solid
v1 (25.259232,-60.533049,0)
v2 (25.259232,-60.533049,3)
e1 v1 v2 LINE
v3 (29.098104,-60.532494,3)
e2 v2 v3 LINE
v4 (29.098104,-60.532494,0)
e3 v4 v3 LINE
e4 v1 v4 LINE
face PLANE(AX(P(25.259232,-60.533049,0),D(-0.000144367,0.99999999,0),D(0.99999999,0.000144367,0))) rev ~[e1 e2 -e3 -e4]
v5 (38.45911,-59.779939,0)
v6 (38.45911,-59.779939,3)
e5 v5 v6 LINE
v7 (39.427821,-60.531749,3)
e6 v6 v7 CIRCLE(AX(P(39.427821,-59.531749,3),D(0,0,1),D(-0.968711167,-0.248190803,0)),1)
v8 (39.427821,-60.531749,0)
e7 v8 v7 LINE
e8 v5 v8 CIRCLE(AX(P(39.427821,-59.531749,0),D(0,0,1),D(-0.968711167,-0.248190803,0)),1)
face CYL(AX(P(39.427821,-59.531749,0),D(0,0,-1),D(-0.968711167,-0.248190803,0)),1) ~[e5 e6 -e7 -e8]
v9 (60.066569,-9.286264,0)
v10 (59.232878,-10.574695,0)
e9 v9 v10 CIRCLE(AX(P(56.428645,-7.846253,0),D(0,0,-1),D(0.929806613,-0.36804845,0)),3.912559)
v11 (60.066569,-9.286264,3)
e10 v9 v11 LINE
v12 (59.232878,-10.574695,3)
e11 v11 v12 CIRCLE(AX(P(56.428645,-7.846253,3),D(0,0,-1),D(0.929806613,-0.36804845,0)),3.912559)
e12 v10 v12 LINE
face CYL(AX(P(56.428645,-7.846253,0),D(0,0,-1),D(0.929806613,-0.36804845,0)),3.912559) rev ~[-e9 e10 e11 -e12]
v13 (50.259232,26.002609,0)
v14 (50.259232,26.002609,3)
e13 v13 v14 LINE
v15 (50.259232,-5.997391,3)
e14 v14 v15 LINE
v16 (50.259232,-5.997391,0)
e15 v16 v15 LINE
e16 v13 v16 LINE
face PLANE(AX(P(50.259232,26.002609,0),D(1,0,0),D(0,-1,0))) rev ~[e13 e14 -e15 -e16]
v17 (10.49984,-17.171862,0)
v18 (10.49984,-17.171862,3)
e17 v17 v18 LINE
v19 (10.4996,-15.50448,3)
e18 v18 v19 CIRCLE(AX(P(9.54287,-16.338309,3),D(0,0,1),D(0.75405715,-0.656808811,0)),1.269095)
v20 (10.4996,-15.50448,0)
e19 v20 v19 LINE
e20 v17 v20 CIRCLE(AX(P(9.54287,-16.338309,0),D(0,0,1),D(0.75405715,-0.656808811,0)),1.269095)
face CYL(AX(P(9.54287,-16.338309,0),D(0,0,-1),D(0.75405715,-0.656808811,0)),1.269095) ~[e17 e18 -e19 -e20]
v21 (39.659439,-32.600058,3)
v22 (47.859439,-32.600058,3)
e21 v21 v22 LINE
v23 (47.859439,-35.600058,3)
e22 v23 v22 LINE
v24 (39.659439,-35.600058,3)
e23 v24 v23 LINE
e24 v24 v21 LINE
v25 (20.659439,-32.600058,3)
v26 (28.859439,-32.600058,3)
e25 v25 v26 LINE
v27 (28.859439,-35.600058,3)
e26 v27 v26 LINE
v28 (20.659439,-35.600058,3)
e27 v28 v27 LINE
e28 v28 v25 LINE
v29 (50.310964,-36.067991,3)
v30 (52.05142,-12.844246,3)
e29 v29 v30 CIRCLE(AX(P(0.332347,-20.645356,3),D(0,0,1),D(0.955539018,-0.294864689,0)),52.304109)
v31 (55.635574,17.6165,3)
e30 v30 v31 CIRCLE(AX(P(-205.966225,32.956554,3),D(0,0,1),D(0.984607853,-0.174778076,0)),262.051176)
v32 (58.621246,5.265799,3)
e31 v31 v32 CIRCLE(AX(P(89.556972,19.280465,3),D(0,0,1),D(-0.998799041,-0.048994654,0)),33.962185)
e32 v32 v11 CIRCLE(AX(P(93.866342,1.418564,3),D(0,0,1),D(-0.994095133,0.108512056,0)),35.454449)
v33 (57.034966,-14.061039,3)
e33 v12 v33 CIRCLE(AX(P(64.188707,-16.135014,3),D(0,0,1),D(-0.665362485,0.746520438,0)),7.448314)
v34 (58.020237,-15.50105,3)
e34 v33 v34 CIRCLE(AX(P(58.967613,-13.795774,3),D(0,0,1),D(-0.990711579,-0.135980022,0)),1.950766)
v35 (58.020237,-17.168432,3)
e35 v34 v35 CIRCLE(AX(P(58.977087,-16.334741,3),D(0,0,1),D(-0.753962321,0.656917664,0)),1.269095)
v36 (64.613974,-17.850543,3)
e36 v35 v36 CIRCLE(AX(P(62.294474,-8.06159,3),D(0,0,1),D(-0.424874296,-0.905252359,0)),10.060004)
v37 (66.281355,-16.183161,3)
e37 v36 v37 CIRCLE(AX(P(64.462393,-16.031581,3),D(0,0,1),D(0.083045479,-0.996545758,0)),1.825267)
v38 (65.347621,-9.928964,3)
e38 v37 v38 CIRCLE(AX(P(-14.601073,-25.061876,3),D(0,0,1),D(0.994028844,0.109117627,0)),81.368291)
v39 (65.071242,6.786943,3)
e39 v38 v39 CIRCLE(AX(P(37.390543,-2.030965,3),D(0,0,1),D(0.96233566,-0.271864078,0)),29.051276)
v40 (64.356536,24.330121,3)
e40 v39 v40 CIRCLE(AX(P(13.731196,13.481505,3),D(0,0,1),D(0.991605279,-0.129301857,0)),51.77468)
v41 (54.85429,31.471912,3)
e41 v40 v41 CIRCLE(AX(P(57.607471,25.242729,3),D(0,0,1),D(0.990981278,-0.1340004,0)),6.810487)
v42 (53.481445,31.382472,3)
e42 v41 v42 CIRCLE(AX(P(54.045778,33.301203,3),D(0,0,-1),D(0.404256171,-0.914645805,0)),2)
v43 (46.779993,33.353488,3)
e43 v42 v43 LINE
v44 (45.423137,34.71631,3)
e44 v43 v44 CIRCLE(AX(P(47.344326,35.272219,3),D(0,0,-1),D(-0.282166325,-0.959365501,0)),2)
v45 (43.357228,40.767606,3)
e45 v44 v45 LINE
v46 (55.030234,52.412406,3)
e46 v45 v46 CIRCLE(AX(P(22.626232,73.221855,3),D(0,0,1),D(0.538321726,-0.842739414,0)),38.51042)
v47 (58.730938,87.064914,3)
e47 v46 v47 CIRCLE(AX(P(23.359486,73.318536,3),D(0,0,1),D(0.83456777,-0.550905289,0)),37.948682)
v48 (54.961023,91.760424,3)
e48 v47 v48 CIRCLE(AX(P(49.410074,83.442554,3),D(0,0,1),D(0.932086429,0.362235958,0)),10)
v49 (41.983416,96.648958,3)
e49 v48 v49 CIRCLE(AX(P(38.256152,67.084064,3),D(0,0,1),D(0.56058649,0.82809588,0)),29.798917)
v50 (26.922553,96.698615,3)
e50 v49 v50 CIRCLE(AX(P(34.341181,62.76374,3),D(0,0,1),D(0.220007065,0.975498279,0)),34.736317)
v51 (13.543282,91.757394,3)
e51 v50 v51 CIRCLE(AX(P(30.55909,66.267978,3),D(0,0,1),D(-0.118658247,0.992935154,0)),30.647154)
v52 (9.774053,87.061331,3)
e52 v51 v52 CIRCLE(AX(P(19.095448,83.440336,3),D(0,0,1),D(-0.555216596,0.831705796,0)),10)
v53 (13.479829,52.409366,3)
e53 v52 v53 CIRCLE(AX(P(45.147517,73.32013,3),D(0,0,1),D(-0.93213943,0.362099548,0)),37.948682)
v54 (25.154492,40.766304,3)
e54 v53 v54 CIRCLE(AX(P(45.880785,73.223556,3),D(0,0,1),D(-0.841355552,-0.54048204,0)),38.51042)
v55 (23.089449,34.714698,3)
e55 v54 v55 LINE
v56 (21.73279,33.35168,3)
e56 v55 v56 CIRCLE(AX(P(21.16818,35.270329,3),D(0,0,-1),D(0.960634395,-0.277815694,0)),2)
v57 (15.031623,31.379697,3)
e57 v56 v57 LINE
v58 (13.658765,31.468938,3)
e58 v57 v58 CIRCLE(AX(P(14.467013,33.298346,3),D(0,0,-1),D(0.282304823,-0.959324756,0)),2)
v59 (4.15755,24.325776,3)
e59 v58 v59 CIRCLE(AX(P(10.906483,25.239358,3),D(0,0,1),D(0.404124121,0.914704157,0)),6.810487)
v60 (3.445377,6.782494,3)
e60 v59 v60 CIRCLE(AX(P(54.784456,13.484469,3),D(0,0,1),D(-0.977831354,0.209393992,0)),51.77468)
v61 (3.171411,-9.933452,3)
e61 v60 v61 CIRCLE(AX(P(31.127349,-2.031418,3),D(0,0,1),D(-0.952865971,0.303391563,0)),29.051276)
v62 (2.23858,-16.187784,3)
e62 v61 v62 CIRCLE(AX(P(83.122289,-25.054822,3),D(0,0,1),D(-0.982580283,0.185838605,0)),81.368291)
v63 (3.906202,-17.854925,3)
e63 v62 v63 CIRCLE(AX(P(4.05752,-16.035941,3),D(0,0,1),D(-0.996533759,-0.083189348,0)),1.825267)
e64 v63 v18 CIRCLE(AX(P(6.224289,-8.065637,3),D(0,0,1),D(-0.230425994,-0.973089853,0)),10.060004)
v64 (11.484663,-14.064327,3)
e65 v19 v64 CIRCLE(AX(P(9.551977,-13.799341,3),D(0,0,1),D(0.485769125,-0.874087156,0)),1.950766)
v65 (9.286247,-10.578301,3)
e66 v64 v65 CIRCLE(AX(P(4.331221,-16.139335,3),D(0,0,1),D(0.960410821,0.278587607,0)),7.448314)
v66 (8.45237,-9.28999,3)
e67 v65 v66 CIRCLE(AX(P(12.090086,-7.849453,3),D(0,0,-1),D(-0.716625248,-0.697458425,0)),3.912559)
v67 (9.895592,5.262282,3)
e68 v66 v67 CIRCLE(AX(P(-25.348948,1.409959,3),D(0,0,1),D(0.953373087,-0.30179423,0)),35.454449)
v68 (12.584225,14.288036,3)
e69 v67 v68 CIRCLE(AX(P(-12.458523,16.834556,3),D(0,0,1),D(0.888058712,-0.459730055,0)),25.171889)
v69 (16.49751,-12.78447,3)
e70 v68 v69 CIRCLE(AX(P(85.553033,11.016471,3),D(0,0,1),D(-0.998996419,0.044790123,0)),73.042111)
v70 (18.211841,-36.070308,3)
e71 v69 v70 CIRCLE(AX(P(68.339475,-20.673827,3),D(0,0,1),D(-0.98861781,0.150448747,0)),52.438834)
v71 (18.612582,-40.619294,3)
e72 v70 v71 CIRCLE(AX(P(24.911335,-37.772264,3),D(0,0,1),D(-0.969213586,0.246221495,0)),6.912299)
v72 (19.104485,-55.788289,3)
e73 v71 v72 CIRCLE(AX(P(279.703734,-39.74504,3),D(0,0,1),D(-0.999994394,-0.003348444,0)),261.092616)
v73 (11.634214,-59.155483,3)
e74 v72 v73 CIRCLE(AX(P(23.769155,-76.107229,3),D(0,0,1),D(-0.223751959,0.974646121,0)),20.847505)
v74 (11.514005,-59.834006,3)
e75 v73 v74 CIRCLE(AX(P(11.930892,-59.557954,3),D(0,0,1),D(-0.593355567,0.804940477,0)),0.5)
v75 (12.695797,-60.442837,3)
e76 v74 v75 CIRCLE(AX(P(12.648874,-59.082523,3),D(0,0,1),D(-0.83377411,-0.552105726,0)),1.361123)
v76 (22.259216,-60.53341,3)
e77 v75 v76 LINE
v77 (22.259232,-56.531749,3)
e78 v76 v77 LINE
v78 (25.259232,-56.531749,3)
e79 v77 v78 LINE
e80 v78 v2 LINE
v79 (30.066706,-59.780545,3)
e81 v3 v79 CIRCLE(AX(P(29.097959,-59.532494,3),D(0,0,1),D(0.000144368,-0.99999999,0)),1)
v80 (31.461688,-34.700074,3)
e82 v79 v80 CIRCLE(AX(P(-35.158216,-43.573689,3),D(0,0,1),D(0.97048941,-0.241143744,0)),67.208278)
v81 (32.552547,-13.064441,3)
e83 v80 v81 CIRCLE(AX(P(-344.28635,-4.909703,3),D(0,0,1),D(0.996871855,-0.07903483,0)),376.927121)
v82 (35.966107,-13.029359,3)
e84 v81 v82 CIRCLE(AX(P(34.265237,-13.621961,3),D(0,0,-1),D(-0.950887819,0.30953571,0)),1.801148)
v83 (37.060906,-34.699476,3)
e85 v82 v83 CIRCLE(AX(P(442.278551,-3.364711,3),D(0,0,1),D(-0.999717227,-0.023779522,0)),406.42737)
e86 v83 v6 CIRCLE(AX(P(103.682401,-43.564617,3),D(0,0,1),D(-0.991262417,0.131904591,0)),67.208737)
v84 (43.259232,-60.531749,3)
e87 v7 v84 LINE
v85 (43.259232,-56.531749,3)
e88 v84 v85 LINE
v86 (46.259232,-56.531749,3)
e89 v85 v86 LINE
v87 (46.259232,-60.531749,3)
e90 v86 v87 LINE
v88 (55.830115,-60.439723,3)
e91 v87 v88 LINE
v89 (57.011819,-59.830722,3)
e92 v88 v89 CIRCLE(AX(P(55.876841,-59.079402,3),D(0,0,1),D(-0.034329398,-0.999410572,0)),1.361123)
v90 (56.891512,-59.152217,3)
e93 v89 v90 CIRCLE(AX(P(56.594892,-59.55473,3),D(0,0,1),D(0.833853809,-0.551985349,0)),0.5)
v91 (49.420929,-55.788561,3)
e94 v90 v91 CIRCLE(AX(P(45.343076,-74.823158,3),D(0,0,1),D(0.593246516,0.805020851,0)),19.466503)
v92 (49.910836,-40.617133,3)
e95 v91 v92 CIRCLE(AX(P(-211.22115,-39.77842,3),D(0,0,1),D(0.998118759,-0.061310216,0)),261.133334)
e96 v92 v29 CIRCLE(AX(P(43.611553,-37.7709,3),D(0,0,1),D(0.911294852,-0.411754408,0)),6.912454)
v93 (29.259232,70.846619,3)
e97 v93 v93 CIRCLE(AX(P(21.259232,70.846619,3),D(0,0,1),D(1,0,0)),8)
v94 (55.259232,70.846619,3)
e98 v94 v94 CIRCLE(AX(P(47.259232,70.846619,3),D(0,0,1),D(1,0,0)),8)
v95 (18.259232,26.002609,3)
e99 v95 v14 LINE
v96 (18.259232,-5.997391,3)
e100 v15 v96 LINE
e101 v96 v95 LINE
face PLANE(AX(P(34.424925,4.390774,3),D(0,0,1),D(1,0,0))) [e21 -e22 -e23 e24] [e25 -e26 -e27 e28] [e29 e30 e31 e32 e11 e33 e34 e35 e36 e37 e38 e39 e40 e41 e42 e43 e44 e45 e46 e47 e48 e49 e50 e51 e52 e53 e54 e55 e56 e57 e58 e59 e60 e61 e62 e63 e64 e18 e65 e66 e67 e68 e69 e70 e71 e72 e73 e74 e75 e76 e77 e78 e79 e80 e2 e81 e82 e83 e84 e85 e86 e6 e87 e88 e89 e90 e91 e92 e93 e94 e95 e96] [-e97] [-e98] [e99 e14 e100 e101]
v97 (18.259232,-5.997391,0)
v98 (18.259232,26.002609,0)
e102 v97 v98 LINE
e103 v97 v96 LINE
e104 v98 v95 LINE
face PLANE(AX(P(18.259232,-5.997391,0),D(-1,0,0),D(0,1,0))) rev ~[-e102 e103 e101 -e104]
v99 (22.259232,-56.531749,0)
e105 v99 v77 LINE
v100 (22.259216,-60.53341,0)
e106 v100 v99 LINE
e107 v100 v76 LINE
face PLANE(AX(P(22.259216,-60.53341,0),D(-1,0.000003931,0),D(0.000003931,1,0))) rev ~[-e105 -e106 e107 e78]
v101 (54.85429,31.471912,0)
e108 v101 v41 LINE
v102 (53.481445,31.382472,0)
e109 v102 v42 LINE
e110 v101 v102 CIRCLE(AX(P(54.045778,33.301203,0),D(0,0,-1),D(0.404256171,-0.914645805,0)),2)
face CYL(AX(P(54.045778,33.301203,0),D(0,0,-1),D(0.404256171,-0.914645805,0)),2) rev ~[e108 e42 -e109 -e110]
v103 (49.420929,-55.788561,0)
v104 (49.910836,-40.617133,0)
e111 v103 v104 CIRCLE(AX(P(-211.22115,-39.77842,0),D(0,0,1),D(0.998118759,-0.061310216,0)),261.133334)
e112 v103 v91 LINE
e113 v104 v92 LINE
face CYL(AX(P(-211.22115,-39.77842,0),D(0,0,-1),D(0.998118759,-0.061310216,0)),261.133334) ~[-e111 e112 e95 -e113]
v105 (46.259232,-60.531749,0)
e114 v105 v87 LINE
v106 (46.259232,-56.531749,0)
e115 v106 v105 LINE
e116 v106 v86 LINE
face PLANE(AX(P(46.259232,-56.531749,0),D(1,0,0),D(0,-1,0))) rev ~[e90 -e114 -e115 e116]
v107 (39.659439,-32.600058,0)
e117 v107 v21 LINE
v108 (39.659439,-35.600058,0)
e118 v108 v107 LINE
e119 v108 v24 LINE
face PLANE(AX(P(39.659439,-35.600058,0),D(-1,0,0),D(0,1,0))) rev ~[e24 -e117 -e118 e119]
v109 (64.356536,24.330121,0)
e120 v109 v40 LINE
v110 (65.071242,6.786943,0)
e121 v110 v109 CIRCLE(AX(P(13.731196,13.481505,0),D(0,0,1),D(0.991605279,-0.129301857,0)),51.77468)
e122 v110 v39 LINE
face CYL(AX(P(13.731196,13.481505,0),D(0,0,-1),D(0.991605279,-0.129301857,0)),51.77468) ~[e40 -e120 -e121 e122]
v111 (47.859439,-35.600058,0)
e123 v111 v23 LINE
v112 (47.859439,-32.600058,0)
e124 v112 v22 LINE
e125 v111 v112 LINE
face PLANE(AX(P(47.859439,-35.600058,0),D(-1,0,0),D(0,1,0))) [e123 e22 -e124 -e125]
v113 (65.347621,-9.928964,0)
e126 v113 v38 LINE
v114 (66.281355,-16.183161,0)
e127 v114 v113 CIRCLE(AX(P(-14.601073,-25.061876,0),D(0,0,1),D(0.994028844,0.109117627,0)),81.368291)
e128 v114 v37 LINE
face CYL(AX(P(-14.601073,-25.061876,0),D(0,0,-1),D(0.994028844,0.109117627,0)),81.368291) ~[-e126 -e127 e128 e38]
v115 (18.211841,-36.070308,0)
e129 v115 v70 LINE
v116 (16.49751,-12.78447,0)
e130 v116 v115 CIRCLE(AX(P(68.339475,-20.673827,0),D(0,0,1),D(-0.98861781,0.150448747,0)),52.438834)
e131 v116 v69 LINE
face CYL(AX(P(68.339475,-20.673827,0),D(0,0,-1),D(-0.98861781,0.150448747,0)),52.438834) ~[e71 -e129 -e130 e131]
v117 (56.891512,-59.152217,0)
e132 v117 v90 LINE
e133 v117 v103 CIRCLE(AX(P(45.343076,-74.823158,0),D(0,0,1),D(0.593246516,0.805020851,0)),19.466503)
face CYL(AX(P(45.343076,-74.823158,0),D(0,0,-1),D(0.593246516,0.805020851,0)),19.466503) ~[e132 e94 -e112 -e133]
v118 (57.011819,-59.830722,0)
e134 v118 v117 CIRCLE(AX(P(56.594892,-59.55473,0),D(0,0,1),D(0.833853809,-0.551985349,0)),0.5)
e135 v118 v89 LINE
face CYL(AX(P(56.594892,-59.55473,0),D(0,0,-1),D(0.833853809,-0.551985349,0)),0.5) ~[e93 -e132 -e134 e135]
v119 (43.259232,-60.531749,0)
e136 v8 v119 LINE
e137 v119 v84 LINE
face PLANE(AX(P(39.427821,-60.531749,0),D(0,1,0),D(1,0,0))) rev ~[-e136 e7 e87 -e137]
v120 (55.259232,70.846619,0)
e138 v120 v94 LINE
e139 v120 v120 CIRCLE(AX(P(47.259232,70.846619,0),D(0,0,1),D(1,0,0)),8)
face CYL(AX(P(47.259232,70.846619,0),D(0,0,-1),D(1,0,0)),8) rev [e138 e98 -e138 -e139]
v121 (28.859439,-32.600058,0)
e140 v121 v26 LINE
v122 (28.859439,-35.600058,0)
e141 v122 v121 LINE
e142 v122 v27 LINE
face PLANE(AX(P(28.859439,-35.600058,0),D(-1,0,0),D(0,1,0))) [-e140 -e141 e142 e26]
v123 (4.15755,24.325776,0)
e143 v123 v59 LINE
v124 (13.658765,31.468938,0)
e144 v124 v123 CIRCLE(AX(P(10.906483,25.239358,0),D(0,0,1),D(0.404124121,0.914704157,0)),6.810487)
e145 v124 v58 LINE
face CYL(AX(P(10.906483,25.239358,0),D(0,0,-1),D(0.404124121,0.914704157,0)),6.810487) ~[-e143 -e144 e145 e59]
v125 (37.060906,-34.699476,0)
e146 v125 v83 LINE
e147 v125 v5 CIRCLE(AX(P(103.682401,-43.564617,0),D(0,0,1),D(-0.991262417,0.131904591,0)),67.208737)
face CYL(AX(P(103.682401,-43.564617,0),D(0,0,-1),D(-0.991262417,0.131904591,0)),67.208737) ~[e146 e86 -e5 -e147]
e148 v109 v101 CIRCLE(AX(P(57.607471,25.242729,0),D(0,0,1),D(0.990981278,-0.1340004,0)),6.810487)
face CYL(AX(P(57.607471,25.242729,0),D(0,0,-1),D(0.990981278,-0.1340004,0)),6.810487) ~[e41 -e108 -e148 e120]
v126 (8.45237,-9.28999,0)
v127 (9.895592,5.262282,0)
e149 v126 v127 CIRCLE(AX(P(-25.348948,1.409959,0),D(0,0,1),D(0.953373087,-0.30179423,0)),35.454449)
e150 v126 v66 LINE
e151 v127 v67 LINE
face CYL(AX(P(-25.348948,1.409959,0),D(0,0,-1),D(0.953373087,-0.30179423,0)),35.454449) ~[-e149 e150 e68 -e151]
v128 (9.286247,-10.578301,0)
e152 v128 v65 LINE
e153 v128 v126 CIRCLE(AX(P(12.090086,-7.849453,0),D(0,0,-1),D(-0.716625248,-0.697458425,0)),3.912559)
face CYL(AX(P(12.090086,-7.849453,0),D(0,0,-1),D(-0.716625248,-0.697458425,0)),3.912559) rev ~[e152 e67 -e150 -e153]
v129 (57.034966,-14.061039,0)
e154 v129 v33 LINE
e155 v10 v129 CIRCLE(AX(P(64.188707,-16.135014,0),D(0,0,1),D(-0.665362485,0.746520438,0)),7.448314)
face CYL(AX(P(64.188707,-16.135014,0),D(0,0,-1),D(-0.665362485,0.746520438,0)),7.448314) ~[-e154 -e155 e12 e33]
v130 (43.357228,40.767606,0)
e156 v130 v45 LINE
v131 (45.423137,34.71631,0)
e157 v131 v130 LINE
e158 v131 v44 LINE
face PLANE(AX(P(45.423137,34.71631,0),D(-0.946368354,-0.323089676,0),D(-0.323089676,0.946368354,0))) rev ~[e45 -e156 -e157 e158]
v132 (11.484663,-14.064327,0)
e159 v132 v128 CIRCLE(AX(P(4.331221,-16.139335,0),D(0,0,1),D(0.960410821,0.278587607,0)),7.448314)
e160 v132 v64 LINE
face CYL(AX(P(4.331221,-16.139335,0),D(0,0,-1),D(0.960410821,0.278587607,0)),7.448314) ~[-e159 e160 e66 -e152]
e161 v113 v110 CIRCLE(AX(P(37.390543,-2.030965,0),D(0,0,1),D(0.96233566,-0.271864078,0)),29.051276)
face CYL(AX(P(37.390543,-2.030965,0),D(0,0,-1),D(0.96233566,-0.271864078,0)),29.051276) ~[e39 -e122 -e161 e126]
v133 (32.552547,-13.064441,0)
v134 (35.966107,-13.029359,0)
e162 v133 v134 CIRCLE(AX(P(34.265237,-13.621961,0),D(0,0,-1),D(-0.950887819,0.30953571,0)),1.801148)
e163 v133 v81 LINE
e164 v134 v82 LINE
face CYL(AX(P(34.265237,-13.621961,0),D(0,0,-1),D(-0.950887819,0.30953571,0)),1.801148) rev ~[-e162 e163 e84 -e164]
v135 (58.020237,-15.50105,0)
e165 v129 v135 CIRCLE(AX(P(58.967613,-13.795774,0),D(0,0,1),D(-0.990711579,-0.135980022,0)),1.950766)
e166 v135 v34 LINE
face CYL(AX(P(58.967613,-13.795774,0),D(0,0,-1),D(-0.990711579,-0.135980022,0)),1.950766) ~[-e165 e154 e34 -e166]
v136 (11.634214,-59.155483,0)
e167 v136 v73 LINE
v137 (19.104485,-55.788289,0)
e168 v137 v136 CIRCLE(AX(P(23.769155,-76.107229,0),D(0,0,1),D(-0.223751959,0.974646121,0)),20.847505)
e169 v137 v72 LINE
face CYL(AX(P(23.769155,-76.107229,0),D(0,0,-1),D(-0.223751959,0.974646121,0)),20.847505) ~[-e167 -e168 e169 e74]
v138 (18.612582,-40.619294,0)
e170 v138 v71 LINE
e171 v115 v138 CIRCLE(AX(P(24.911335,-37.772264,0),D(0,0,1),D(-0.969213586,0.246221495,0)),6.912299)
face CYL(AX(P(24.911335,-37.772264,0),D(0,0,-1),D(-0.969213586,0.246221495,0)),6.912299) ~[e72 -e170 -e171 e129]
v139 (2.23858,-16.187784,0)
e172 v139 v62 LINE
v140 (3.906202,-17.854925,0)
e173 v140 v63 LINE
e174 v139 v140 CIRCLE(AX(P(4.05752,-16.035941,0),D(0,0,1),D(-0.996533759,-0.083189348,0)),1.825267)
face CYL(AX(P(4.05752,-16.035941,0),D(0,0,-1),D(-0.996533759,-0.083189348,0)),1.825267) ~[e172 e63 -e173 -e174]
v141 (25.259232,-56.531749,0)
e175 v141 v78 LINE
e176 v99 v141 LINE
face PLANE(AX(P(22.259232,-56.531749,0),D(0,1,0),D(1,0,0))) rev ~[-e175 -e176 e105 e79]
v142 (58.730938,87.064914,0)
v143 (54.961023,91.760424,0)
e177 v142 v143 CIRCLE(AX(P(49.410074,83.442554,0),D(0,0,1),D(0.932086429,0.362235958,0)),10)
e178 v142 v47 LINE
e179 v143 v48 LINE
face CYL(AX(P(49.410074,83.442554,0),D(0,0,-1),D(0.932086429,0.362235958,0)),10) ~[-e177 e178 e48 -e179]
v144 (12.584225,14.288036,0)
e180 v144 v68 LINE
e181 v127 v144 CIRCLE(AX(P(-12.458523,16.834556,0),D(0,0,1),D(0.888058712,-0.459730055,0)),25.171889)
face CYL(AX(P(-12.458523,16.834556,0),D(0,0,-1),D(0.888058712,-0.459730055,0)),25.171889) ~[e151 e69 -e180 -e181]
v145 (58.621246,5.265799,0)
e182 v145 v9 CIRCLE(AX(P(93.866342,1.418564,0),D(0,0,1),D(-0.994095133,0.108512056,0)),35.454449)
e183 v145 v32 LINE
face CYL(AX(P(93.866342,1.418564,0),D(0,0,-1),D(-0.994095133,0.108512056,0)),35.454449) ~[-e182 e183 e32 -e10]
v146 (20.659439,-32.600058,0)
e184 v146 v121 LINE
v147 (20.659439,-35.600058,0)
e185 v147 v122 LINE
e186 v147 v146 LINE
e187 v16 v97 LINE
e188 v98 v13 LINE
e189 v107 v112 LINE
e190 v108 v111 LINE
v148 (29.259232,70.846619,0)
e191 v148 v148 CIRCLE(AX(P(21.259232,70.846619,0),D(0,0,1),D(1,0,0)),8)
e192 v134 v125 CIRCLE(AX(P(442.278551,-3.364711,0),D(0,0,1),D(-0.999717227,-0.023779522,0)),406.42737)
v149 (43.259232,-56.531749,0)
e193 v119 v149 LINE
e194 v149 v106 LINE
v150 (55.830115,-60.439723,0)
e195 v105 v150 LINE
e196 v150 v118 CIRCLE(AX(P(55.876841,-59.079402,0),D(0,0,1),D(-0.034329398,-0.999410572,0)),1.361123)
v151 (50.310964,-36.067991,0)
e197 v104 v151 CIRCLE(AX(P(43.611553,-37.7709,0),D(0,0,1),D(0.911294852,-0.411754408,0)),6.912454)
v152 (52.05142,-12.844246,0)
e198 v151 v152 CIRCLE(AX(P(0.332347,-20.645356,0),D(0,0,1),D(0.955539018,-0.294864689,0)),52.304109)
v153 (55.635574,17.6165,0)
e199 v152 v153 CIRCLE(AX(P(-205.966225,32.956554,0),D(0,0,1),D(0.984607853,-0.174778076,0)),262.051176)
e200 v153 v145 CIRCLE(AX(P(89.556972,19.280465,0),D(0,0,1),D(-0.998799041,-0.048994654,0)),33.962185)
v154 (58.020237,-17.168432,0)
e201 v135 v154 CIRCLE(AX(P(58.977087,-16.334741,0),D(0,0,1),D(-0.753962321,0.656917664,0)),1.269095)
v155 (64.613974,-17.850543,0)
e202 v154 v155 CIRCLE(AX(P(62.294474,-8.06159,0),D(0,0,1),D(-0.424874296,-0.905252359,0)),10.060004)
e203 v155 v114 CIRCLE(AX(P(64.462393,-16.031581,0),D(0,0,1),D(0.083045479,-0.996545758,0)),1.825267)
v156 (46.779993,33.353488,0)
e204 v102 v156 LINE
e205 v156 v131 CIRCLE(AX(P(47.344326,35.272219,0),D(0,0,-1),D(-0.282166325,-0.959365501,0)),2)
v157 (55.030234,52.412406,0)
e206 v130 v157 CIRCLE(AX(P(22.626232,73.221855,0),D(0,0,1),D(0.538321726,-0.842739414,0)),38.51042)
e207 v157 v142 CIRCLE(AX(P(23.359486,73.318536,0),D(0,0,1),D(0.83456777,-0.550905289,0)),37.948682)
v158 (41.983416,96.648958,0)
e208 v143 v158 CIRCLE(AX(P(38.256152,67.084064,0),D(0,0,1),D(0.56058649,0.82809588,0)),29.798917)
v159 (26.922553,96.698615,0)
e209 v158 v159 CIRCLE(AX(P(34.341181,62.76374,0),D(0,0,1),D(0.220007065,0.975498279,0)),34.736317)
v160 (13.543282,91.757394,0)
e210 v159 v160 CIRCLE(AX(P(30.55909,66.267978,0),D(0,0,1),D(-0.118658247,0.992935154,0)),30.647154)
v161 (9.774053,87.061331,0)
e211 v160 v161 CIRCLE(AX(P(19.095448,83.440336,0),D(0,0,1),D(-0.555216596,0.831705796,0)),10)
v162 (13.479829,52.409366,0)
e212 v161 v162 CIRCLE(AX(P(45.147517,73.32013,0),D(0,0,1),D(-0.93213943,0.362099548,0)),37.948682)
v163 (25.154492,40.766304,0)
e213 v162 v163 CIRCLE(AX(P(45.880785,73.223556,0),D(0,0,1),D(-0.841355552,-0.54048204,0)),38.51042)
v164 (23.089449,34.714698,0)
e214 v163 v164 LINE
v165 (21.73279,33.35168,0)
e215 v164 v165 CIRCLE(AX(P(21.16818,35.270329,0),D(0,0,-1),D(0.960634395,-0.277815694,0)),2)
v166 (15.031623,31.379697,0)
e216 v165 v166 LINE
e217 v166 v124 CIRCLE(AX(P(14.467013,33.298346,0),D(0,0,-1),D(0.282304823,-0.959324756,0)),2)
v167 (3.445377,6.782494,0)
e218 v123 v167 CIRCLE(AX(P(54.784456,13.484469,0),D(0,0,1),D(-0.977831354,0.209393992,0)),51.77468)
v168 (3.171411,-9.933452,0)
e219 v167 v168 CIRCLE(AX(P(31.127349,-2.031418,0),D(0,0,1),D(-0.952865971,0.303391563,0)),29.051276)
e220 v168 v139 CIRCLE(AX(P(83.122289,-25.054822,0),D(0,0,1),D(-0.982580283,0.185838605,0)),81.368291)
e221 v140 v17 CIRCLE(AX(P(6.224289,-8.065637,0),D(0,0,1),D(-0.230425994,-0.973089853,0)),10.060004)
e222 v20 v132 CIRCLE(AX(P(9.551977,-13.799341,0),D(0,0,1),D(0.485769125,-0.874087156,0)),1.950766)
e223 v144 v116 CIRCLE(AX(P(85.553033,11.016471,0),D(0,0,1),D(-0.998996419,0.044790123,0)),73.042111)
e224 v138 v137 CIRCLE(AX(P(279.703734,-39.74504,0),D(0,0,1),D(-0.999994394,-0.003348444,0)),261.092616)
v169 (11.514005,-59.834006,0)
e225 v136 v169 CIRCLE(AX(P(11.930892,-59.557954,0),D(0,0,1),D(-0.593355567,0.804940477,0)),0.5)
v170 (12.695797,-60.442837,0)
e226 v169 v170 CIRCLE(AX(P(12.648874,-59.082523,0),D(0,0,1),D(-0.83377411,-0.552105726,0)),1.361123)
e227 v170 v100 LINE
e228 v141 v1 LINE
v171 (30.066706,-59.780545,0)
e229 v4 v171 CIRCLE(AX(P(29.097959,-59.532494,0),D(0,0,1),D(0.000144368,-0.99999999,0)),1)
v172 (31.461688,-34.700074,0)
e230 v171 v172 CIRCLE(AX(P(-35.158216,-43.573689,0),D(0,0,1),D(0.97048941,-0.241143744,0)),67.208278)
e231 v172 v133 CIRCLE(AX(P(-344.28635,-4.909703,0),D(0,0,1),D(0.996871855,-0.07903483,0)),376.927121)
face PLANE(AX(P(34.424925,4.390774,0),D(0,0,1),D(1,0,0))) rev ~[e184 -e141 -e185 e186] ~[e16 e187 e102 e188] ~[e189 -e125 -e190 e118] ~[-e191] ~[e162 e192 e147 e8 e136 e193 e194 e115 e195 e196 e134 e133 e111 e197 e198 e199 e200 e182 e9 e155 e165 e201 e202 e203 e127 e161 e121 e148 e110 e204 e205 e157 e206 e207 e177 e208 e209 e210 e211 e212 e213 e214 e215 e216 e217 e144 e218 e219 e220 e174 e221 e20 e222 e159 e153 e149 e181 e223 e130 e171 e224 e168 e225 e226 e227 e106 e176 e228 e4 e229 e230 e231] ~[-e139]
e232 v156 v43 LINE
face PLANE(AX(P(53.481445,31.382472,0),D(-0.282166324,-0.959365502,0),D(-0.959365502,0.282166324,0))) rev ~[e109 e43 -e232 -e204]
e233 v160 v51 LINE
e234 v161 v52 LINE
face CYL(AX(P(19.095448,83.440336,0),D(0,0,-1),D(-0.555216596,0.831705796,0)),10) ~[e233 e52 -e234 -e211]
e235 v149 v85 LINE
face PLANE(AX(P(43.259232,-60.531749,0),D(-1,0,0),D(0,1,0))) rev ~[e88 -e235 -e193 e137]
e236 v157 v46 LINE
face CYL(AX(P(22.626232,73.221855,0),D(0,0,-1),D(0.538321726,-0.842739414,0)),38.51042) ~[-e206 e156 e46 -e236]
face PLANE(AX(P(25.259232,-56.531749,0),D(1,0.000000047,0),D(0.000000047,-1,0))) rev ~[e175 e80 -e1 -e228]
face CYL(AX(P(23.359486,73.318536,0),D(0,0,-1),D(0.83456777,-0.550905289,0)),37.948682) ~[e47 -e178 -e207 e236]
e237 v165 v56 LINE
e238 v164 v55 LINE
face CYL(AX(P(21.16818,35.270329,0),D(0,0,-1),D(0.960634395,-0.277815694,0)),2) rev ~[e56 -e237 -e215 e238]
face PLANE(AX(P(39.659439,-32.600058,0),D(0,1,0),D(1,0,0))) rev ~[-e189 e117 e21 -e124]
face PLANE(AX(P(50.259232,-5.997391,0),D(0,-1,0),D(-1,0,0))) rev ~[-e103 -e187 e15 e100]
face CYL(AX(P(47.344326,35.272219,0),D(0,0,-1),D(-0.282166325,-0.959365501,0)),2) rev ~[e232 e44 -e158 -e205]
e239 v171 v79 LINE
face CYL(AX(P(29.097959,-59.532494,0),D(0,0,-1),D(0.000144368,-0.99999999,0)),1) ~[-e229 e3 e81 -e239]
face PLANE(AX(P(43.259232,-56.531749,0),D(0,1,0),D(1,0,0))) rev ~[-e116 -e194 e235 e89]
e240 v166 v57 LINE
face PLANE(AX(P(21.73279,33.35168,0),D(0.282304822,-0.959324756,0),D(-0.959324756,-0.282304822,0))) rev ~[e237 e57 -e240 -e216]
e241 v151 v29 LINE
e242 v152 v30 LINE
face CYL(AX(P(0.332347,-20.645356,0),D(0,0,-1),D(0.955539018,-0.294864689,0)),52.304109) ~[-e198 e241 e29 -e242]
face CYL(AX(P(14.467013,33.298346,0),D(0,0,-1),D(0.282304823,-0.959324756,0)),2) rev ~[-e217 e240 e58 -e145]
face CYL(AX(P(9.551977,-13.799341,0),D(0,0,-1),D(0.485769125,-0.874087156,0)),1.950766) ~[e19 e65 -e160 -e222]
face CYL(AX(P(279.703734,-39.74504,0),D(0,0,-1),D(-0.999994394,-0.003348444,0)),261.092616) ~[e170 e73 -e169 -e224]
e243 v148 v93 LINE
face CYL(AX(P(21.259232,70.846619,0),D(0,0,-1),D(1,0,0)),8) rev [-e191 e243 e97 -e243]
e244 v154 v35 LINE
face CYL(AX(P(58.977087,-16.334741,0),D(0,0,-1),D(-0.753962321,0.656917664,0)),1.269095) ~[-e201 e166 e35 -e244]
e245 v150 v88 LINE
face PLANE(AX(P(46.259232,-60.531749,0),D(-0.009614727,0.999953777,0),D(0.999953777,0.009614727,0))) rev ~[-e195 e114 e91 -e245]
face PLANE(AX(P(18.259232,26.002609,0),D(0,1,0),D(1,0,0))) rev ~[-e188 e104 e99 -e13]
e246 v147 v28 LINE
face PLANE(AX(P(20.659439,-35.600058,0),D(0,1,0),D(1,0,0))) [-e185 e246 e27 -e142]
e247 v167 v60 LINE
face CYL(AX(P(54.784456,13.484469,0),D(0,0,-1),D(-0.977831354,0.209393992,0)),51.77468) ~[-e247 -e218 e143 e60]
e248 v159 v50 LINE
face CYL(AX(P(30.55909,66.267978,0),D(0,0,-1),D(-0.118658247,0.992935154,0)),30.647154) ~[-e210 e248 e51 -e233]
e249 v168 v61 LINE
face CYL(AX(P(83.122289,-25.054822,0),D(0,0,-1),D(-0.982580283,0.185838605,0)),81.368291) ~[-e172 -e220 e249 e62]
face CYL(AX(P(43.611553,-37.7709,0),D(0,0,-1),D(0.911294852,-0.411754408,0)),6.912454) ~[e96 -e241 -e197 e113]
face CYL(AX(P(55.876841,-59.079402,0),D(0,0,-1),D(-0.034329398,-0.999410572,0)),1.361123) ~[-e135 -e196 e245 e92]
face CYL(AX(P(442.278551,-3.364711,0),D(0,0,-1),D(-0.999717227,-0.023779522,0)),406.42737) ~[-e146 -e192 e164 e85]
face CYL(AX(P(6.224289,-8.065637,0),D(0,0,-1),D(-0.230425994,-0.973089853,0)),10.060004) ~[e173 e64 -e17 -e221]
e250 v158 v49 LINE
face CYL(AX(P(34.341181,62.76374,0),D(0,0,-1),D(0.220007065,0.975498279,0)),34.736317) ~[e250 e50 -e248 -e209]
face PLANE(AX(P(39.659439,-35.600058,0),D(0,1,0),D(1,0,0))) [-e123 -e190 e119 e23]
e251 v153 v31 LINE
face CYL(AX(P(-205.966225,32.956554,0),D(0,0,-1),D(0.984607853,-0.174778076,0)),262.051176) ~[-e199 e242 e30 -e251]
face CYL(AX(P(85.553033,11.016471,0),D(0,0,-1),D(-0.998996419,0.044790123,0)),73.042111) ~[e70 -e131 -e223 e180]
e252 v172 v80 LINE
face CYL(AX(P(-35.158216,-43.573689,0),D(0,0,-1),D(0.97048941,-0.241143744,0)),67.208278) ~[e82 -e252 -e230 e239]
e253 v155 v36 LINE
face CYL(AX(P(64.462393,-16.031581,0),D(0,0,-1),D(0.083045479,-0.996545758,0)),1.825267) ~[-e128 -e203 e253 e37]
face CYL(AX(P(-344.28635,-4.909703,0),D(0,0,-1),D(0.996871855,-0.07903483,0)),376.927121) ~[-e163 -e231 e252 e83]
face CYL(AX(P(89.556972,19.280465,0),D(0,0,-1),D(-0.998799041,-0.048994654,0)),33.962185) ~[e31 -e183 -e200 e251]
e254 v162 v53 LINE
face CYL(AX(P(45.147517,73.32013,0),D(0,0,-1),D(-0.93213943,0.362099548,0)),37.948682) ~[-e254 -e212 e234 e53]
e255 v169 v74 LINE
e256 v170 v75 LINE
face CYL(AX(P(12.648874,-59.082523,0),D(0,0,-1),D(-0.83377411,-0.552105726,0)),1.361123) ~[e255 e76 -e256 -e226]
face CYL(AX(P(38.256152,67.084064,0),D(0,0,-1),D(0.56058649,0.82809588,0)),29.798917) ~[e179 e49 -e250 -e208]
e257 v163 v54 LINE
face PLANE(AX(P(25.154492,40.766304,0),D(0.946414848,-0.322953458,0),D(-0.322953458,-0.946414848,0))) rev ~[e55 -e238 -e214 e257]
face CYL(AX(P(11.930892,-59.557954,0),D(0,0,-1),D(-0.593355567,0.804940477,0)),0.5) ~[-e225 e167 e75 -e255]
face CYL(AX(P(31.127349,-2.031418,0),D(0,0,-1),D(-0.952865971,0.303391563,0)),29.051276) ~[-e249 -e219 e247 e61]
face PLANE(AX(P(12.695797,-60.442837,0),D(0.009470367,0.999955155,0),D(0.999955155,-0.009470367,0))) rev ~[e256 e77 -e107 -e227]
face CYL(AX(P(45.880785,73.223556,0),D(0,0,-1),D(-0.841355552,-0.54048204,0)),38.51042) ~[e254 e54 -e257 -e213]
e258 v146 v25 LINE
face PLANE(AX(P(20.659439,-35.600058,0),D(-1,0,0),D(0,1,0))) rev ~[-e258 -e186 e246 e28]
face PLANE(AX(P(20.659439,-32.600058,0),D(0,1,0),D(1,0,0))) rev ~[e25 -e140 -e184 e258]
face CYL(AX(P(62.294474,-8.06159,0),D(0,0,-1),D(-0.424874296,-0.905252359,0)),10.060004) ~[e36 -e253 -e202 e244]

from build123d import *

# Parameters (mm, degrees)
MODEL_R                 = 8
MODEL_W                 = 8.2
MODEL_H                 = 3
SALIENTE_EXTRUIR1_DEPTH = 3


with BuildPart() as part:
    # Model → Saliente-Extruir1 (new body)
    with BuildSketch(Plane.XY):
        with BuildLine():
            Line((53.481445034, 31.38247243), (46.779993349, 33.353487631))
            ThreePointArc((46.779993349, 33.353487631), (45.927013388, 33.861110925), (45.423137443, 34.716309882))
            Line((45.423137443, 34.716309882), (43.357228049, 40.767605918))
            ThreePointArc((43.357228049, 40.767605918), (49.8242529, 45.957956881), (55.030233707, 52.412406306))
            ThreePointArc((55.030233707, 52.412406306), (61.093598066, 69.288732485), (58.730938319, 87.064913502))
            ThreePointArc((58.730938319, 87.064913502), (57.207808393, 89.703172008), (54.961022773, 91.760424326))
            ThreePointArc((54.961022773, 91.760424326), (48.760554591, 94.970135555), (41.983416035, 96.648958014))
            ThreePointArc((41.983416035, 96.648958014), (34.455707931, 97.499868783), (26.92255254, 96.698614587))
            ThreePointArc((26.92255254, 96.698614587), (19.94147438, 95.017139449), (13.543281779, 91.757393696))
            ThreePointArc((13.543281779, 91.757393696), (11.296797252, 89.699812596), (9.774053436, 87.061331216))
            ThreePointArc((9.774053436, 87.061331216), (7.413995161, 69.284804627), (13.479829214, 52.409365969))
            ThreePointArc((13.479829214, 52.409365969), (18.686734846, 45.955698119), (25.154492019, 40.766303923))
            Line((25.154492019, 40.766303923), (23.089449249, 34.714697754))
            ThreePointArc((23.089449249, 34.714697754), (22.585696773, 33.859426062), (21.732790104, 33.351679631))
            Line((21.732790104, 33.351679631), (15.03162304, 31.379696979))
            ThreePointArc((15.03162304, 31.379696979), (14.337279285, 31.302558661), (13.658765154, 31.468938177))
            ThreePointArc((13.658765154, 31.468938177), (6.813868189, 30.682998994), (4.157550352, 24.325775512))
            ThreePointArc((4.157550352, 24.325775512), (3.052384752, 15.584544005), (3.445376772, 6.78249444))
            ThreePointArc((3.445376772, 6.78249444), (2.079974129, -1.555345588), (3.171410736, -9.933451987))
            ThreePointArc((3.171410736, -9.933451987), (2.64421566, -13.051552622), (2.238579914, -16.187783777))
            ThreePointArc((2.238579914, -16.187783777), (2.76704769, -17.326785827), (3.90620228, -17.854924712))
            ThreePointArc((3.90620228, -17.854924712), (7.260899106, -18.072090773), (10.49984033, -17.171862116))
            ThreePointArc((10.49984033, -17.171862116), (10.811965124, -16.338126213), (10.499599615, -15.504480466))
            ThreePointArc((10.499599615, -15.504480466), (11.162118239, -14.900674558), (11.484662699, -14.0643268))
            ThreePointArc((11.484662699, -14.0643268), (10.631367301, -12.166232415), (9.28624721, -10.578300657))
            ThreePointArc((9.28624721, -10.578300657), (8.805524833, -9.975430237), (8.452370377, -9.289989739))
            ThreePointArc((8.452370377, -9.289989739), (9.932418252, -2.08907189), (9.895592327, 5.262281961))
            ThreePointArc((9.895592327, 5.262281961), (11.66577443, 9.648300332), (12.584225099, 14.288036336))
            ThreePointArc((12.584225099, 14.288036336), (13.262246612, 0.566960759), (16.497509918, -12.784469858))
            ThreePointArc((16.497509918, -12.784469858), (16.042177417, -24.524016518), (18.211841217, -36.070307803))
            ThreePointArc((18.211841217, -36.070307803), (18.02570309, -38.378850147), (18.612581504, -40.61929405))
            ThreePointArc((18.612581504, -40.61929405), (18.748290938, -48.20736643), (19.104485347, -55.78828887))
            ThreePointArc((19.104485347, -55.78828887), (15.202287094, -57.1012499), (11.634214393, -59.155483354))
            ThreePointArc((11.634214393, -59.155483354), (11.43855886, -59.470730285), (11.514005122, -59.834006456))
            ThreePointArc((11.514005122, -59.834006456), (12.025516155, -60.292514594), (12.695797103, -60.442836581))
            Line((12.695797103, -60.442836581), (22.259216422, -60.533409729))
            Line((22.259216422, -60.533409729), (22.259232154, -56.531748667))
            Line((22.259232154, -56.531748667), (25.259232154, -56.531748667))
            Line((25.259232154, -56.531748667), (25.259232342, -60.533048512))
            Line((25.259232342, -60.533048512), (29.098103748, -60.532494304))
            ThreePointArc((29.098103748, -60.532494304), (29.711184017, -60.322402882), (30.066706369, -59.780545262))
            ThreePointArc((30.066706369, -59.780545262), (31.946344773, -47.306061086), (31.46168815, -34.700074258))
            ThreePointArc((31.46168815, -34.700074258), (32.162582874, -23.89009615), (32.552547443, -13.064441077))
            ThreePointArc((32.552547443, -13.064441077), (34.246727454, -11.820907742), (35.966107002, -13.029359245))
            ThreePointArc((35.966107002, -13.029359245), (36.368868995, -23.871724918), (37.060905712, -34.699476107))
            ThreePointArc((37.060905712, -34.699476107), (36.577860738, -47.305611007), (38.45911007, -59.779939467))
            ThreePointArc((38.45911007, -59.779939467), (38.814710645, -60.321745755), (39.427821238, -60.531748667))
            Line((39.427821238, -60.531748667), (43.259232154, -60.531748667))
            Line((43.259232154, -60.531748667), (43.259232154, -56.531748667))
            Line((43.259232154, -56.531748667), (46.259232154, -56.531748667))
            Line((46.259232154, -56.531748667), (46.259232154, -60.531748667))
            Line((46.259232154, -60.531748667), (55.830114769, -60.439722986))
            ThreePointArc((55.830114769, -60.439722986), (56.500374008, -60.289304234), (57.011818842, -59.830722256))
            ThreePointArc((57.011818842, -59.830722256), (57.087212657, -59.467435196), (56.891511615, -59.152216515))
            ThreePointArc((56.891511615, -59.152216515), (53.335182459, -57.072918402), (49.420928579, -55.788560868))
            ThreePointArc((49.420928579, -55.788560868), (49.776142638, -48.206407611), (49.910836364, -40.617133427))
            ThreePointArc((49.910836364, -40.617133427), (50.497421978, -38.376559304), (50.310964473, -36.06799077))
            ThreePointArc((50.310964473, -36.06799077), (52.490190754, -24.554218645), (52.051420468, -12.844246127))
            ThreePointArc((52.051420468, -12.844246127), (54.289526358, 2.333645055), (55.635574328, 17.616499945))
            ThreePointArc((55.635574328, 17.616499945), (56.545662292, 11.300275423), (58.621246197, 5.265799159))
            ThreePointArc((58.621246197, 5.265799159), (58.585481568, -2.085559931), (60.066569006, -9.286264035))
            ThreePointArc((60.066569006, -9.286264035), (59.713513509, -9.97175551), (59.232878172, -10.574695324))
            ThreePointArc((59.232878172, -10.574695324), (57.88798734, -12.162821257), (57.034965974, -14.06103881))
            ThreePointArc((57.034965974, -14.06103881), (57.357631173, -14.897339994), (58.020236959, -15.50105025))
            ThreePointArc((58.020236959, -15.50105025), (57.707991805, -16.334741084), (58.020236959, -17.168431917))
            ThreePointArc((58.020236959, -17.168431917), (61.259308114, -18.068192968), (64.613973553, -17.850542599))
            ThreePointArc((64.613973553, -17.850542599), (65.753051885, -17.322239264), (66.28135522, -16.183160932))
            ThreePointArc((66.28135522, -16.183160932), (65.875266709, -13.04698837), (65.347621487, -9.928963878))
            ThreePointArc((65.347621487, -9.928963878), (66.437848557, -1.550699998), (65.071242216, 6.786942824))
            ThreePointArc((65.071242216, 6.786942824), (65.462963502, 15.589049032), (64.356535965, 24.330120898))
            ThreePointArc((64.356535965, 24.330120898), (61.699300379, 30.686960828), (54.854290022, 31.471911822))
            ThreePointArc((54.854290022, 31.471911822), (54.175799918, 31.305434353), (53.481445034, 31.38247243))
        make_face()
        with Locations((21.259232154, 70.846618638)):
            Circle(MODEL_R, mode=Mode.SUBTRACT)
        with Locations((47.259232154, 70.846618638)):
            Circle(MODEL_R, mode=Mode.SUBTRACT)
        Polygon((34.759232154, 26.002609393), (50.259232154, 26.002609393), (50.259232154, -5.997390607), (18.259232154, -5.997390607), (18.259232154, 26.002609393), (33.759232154, 26.002609393), align=None, mode=Mode.SUBTRACT)
        with Locations((24.759438839, -34.100057584)):
            Rectangle(MODEL_W, MODEL_H, mode=Mode.SUBTRACT)
        with Locations((43.759438839, -34.100057584)):
            Rectangle(MODEL_W, MODEL_H, mode=Mode.SUBTRACT)
    extrude(amount=SALIENTE_EXTRUIR1_DEPTH)


solid = part.part
